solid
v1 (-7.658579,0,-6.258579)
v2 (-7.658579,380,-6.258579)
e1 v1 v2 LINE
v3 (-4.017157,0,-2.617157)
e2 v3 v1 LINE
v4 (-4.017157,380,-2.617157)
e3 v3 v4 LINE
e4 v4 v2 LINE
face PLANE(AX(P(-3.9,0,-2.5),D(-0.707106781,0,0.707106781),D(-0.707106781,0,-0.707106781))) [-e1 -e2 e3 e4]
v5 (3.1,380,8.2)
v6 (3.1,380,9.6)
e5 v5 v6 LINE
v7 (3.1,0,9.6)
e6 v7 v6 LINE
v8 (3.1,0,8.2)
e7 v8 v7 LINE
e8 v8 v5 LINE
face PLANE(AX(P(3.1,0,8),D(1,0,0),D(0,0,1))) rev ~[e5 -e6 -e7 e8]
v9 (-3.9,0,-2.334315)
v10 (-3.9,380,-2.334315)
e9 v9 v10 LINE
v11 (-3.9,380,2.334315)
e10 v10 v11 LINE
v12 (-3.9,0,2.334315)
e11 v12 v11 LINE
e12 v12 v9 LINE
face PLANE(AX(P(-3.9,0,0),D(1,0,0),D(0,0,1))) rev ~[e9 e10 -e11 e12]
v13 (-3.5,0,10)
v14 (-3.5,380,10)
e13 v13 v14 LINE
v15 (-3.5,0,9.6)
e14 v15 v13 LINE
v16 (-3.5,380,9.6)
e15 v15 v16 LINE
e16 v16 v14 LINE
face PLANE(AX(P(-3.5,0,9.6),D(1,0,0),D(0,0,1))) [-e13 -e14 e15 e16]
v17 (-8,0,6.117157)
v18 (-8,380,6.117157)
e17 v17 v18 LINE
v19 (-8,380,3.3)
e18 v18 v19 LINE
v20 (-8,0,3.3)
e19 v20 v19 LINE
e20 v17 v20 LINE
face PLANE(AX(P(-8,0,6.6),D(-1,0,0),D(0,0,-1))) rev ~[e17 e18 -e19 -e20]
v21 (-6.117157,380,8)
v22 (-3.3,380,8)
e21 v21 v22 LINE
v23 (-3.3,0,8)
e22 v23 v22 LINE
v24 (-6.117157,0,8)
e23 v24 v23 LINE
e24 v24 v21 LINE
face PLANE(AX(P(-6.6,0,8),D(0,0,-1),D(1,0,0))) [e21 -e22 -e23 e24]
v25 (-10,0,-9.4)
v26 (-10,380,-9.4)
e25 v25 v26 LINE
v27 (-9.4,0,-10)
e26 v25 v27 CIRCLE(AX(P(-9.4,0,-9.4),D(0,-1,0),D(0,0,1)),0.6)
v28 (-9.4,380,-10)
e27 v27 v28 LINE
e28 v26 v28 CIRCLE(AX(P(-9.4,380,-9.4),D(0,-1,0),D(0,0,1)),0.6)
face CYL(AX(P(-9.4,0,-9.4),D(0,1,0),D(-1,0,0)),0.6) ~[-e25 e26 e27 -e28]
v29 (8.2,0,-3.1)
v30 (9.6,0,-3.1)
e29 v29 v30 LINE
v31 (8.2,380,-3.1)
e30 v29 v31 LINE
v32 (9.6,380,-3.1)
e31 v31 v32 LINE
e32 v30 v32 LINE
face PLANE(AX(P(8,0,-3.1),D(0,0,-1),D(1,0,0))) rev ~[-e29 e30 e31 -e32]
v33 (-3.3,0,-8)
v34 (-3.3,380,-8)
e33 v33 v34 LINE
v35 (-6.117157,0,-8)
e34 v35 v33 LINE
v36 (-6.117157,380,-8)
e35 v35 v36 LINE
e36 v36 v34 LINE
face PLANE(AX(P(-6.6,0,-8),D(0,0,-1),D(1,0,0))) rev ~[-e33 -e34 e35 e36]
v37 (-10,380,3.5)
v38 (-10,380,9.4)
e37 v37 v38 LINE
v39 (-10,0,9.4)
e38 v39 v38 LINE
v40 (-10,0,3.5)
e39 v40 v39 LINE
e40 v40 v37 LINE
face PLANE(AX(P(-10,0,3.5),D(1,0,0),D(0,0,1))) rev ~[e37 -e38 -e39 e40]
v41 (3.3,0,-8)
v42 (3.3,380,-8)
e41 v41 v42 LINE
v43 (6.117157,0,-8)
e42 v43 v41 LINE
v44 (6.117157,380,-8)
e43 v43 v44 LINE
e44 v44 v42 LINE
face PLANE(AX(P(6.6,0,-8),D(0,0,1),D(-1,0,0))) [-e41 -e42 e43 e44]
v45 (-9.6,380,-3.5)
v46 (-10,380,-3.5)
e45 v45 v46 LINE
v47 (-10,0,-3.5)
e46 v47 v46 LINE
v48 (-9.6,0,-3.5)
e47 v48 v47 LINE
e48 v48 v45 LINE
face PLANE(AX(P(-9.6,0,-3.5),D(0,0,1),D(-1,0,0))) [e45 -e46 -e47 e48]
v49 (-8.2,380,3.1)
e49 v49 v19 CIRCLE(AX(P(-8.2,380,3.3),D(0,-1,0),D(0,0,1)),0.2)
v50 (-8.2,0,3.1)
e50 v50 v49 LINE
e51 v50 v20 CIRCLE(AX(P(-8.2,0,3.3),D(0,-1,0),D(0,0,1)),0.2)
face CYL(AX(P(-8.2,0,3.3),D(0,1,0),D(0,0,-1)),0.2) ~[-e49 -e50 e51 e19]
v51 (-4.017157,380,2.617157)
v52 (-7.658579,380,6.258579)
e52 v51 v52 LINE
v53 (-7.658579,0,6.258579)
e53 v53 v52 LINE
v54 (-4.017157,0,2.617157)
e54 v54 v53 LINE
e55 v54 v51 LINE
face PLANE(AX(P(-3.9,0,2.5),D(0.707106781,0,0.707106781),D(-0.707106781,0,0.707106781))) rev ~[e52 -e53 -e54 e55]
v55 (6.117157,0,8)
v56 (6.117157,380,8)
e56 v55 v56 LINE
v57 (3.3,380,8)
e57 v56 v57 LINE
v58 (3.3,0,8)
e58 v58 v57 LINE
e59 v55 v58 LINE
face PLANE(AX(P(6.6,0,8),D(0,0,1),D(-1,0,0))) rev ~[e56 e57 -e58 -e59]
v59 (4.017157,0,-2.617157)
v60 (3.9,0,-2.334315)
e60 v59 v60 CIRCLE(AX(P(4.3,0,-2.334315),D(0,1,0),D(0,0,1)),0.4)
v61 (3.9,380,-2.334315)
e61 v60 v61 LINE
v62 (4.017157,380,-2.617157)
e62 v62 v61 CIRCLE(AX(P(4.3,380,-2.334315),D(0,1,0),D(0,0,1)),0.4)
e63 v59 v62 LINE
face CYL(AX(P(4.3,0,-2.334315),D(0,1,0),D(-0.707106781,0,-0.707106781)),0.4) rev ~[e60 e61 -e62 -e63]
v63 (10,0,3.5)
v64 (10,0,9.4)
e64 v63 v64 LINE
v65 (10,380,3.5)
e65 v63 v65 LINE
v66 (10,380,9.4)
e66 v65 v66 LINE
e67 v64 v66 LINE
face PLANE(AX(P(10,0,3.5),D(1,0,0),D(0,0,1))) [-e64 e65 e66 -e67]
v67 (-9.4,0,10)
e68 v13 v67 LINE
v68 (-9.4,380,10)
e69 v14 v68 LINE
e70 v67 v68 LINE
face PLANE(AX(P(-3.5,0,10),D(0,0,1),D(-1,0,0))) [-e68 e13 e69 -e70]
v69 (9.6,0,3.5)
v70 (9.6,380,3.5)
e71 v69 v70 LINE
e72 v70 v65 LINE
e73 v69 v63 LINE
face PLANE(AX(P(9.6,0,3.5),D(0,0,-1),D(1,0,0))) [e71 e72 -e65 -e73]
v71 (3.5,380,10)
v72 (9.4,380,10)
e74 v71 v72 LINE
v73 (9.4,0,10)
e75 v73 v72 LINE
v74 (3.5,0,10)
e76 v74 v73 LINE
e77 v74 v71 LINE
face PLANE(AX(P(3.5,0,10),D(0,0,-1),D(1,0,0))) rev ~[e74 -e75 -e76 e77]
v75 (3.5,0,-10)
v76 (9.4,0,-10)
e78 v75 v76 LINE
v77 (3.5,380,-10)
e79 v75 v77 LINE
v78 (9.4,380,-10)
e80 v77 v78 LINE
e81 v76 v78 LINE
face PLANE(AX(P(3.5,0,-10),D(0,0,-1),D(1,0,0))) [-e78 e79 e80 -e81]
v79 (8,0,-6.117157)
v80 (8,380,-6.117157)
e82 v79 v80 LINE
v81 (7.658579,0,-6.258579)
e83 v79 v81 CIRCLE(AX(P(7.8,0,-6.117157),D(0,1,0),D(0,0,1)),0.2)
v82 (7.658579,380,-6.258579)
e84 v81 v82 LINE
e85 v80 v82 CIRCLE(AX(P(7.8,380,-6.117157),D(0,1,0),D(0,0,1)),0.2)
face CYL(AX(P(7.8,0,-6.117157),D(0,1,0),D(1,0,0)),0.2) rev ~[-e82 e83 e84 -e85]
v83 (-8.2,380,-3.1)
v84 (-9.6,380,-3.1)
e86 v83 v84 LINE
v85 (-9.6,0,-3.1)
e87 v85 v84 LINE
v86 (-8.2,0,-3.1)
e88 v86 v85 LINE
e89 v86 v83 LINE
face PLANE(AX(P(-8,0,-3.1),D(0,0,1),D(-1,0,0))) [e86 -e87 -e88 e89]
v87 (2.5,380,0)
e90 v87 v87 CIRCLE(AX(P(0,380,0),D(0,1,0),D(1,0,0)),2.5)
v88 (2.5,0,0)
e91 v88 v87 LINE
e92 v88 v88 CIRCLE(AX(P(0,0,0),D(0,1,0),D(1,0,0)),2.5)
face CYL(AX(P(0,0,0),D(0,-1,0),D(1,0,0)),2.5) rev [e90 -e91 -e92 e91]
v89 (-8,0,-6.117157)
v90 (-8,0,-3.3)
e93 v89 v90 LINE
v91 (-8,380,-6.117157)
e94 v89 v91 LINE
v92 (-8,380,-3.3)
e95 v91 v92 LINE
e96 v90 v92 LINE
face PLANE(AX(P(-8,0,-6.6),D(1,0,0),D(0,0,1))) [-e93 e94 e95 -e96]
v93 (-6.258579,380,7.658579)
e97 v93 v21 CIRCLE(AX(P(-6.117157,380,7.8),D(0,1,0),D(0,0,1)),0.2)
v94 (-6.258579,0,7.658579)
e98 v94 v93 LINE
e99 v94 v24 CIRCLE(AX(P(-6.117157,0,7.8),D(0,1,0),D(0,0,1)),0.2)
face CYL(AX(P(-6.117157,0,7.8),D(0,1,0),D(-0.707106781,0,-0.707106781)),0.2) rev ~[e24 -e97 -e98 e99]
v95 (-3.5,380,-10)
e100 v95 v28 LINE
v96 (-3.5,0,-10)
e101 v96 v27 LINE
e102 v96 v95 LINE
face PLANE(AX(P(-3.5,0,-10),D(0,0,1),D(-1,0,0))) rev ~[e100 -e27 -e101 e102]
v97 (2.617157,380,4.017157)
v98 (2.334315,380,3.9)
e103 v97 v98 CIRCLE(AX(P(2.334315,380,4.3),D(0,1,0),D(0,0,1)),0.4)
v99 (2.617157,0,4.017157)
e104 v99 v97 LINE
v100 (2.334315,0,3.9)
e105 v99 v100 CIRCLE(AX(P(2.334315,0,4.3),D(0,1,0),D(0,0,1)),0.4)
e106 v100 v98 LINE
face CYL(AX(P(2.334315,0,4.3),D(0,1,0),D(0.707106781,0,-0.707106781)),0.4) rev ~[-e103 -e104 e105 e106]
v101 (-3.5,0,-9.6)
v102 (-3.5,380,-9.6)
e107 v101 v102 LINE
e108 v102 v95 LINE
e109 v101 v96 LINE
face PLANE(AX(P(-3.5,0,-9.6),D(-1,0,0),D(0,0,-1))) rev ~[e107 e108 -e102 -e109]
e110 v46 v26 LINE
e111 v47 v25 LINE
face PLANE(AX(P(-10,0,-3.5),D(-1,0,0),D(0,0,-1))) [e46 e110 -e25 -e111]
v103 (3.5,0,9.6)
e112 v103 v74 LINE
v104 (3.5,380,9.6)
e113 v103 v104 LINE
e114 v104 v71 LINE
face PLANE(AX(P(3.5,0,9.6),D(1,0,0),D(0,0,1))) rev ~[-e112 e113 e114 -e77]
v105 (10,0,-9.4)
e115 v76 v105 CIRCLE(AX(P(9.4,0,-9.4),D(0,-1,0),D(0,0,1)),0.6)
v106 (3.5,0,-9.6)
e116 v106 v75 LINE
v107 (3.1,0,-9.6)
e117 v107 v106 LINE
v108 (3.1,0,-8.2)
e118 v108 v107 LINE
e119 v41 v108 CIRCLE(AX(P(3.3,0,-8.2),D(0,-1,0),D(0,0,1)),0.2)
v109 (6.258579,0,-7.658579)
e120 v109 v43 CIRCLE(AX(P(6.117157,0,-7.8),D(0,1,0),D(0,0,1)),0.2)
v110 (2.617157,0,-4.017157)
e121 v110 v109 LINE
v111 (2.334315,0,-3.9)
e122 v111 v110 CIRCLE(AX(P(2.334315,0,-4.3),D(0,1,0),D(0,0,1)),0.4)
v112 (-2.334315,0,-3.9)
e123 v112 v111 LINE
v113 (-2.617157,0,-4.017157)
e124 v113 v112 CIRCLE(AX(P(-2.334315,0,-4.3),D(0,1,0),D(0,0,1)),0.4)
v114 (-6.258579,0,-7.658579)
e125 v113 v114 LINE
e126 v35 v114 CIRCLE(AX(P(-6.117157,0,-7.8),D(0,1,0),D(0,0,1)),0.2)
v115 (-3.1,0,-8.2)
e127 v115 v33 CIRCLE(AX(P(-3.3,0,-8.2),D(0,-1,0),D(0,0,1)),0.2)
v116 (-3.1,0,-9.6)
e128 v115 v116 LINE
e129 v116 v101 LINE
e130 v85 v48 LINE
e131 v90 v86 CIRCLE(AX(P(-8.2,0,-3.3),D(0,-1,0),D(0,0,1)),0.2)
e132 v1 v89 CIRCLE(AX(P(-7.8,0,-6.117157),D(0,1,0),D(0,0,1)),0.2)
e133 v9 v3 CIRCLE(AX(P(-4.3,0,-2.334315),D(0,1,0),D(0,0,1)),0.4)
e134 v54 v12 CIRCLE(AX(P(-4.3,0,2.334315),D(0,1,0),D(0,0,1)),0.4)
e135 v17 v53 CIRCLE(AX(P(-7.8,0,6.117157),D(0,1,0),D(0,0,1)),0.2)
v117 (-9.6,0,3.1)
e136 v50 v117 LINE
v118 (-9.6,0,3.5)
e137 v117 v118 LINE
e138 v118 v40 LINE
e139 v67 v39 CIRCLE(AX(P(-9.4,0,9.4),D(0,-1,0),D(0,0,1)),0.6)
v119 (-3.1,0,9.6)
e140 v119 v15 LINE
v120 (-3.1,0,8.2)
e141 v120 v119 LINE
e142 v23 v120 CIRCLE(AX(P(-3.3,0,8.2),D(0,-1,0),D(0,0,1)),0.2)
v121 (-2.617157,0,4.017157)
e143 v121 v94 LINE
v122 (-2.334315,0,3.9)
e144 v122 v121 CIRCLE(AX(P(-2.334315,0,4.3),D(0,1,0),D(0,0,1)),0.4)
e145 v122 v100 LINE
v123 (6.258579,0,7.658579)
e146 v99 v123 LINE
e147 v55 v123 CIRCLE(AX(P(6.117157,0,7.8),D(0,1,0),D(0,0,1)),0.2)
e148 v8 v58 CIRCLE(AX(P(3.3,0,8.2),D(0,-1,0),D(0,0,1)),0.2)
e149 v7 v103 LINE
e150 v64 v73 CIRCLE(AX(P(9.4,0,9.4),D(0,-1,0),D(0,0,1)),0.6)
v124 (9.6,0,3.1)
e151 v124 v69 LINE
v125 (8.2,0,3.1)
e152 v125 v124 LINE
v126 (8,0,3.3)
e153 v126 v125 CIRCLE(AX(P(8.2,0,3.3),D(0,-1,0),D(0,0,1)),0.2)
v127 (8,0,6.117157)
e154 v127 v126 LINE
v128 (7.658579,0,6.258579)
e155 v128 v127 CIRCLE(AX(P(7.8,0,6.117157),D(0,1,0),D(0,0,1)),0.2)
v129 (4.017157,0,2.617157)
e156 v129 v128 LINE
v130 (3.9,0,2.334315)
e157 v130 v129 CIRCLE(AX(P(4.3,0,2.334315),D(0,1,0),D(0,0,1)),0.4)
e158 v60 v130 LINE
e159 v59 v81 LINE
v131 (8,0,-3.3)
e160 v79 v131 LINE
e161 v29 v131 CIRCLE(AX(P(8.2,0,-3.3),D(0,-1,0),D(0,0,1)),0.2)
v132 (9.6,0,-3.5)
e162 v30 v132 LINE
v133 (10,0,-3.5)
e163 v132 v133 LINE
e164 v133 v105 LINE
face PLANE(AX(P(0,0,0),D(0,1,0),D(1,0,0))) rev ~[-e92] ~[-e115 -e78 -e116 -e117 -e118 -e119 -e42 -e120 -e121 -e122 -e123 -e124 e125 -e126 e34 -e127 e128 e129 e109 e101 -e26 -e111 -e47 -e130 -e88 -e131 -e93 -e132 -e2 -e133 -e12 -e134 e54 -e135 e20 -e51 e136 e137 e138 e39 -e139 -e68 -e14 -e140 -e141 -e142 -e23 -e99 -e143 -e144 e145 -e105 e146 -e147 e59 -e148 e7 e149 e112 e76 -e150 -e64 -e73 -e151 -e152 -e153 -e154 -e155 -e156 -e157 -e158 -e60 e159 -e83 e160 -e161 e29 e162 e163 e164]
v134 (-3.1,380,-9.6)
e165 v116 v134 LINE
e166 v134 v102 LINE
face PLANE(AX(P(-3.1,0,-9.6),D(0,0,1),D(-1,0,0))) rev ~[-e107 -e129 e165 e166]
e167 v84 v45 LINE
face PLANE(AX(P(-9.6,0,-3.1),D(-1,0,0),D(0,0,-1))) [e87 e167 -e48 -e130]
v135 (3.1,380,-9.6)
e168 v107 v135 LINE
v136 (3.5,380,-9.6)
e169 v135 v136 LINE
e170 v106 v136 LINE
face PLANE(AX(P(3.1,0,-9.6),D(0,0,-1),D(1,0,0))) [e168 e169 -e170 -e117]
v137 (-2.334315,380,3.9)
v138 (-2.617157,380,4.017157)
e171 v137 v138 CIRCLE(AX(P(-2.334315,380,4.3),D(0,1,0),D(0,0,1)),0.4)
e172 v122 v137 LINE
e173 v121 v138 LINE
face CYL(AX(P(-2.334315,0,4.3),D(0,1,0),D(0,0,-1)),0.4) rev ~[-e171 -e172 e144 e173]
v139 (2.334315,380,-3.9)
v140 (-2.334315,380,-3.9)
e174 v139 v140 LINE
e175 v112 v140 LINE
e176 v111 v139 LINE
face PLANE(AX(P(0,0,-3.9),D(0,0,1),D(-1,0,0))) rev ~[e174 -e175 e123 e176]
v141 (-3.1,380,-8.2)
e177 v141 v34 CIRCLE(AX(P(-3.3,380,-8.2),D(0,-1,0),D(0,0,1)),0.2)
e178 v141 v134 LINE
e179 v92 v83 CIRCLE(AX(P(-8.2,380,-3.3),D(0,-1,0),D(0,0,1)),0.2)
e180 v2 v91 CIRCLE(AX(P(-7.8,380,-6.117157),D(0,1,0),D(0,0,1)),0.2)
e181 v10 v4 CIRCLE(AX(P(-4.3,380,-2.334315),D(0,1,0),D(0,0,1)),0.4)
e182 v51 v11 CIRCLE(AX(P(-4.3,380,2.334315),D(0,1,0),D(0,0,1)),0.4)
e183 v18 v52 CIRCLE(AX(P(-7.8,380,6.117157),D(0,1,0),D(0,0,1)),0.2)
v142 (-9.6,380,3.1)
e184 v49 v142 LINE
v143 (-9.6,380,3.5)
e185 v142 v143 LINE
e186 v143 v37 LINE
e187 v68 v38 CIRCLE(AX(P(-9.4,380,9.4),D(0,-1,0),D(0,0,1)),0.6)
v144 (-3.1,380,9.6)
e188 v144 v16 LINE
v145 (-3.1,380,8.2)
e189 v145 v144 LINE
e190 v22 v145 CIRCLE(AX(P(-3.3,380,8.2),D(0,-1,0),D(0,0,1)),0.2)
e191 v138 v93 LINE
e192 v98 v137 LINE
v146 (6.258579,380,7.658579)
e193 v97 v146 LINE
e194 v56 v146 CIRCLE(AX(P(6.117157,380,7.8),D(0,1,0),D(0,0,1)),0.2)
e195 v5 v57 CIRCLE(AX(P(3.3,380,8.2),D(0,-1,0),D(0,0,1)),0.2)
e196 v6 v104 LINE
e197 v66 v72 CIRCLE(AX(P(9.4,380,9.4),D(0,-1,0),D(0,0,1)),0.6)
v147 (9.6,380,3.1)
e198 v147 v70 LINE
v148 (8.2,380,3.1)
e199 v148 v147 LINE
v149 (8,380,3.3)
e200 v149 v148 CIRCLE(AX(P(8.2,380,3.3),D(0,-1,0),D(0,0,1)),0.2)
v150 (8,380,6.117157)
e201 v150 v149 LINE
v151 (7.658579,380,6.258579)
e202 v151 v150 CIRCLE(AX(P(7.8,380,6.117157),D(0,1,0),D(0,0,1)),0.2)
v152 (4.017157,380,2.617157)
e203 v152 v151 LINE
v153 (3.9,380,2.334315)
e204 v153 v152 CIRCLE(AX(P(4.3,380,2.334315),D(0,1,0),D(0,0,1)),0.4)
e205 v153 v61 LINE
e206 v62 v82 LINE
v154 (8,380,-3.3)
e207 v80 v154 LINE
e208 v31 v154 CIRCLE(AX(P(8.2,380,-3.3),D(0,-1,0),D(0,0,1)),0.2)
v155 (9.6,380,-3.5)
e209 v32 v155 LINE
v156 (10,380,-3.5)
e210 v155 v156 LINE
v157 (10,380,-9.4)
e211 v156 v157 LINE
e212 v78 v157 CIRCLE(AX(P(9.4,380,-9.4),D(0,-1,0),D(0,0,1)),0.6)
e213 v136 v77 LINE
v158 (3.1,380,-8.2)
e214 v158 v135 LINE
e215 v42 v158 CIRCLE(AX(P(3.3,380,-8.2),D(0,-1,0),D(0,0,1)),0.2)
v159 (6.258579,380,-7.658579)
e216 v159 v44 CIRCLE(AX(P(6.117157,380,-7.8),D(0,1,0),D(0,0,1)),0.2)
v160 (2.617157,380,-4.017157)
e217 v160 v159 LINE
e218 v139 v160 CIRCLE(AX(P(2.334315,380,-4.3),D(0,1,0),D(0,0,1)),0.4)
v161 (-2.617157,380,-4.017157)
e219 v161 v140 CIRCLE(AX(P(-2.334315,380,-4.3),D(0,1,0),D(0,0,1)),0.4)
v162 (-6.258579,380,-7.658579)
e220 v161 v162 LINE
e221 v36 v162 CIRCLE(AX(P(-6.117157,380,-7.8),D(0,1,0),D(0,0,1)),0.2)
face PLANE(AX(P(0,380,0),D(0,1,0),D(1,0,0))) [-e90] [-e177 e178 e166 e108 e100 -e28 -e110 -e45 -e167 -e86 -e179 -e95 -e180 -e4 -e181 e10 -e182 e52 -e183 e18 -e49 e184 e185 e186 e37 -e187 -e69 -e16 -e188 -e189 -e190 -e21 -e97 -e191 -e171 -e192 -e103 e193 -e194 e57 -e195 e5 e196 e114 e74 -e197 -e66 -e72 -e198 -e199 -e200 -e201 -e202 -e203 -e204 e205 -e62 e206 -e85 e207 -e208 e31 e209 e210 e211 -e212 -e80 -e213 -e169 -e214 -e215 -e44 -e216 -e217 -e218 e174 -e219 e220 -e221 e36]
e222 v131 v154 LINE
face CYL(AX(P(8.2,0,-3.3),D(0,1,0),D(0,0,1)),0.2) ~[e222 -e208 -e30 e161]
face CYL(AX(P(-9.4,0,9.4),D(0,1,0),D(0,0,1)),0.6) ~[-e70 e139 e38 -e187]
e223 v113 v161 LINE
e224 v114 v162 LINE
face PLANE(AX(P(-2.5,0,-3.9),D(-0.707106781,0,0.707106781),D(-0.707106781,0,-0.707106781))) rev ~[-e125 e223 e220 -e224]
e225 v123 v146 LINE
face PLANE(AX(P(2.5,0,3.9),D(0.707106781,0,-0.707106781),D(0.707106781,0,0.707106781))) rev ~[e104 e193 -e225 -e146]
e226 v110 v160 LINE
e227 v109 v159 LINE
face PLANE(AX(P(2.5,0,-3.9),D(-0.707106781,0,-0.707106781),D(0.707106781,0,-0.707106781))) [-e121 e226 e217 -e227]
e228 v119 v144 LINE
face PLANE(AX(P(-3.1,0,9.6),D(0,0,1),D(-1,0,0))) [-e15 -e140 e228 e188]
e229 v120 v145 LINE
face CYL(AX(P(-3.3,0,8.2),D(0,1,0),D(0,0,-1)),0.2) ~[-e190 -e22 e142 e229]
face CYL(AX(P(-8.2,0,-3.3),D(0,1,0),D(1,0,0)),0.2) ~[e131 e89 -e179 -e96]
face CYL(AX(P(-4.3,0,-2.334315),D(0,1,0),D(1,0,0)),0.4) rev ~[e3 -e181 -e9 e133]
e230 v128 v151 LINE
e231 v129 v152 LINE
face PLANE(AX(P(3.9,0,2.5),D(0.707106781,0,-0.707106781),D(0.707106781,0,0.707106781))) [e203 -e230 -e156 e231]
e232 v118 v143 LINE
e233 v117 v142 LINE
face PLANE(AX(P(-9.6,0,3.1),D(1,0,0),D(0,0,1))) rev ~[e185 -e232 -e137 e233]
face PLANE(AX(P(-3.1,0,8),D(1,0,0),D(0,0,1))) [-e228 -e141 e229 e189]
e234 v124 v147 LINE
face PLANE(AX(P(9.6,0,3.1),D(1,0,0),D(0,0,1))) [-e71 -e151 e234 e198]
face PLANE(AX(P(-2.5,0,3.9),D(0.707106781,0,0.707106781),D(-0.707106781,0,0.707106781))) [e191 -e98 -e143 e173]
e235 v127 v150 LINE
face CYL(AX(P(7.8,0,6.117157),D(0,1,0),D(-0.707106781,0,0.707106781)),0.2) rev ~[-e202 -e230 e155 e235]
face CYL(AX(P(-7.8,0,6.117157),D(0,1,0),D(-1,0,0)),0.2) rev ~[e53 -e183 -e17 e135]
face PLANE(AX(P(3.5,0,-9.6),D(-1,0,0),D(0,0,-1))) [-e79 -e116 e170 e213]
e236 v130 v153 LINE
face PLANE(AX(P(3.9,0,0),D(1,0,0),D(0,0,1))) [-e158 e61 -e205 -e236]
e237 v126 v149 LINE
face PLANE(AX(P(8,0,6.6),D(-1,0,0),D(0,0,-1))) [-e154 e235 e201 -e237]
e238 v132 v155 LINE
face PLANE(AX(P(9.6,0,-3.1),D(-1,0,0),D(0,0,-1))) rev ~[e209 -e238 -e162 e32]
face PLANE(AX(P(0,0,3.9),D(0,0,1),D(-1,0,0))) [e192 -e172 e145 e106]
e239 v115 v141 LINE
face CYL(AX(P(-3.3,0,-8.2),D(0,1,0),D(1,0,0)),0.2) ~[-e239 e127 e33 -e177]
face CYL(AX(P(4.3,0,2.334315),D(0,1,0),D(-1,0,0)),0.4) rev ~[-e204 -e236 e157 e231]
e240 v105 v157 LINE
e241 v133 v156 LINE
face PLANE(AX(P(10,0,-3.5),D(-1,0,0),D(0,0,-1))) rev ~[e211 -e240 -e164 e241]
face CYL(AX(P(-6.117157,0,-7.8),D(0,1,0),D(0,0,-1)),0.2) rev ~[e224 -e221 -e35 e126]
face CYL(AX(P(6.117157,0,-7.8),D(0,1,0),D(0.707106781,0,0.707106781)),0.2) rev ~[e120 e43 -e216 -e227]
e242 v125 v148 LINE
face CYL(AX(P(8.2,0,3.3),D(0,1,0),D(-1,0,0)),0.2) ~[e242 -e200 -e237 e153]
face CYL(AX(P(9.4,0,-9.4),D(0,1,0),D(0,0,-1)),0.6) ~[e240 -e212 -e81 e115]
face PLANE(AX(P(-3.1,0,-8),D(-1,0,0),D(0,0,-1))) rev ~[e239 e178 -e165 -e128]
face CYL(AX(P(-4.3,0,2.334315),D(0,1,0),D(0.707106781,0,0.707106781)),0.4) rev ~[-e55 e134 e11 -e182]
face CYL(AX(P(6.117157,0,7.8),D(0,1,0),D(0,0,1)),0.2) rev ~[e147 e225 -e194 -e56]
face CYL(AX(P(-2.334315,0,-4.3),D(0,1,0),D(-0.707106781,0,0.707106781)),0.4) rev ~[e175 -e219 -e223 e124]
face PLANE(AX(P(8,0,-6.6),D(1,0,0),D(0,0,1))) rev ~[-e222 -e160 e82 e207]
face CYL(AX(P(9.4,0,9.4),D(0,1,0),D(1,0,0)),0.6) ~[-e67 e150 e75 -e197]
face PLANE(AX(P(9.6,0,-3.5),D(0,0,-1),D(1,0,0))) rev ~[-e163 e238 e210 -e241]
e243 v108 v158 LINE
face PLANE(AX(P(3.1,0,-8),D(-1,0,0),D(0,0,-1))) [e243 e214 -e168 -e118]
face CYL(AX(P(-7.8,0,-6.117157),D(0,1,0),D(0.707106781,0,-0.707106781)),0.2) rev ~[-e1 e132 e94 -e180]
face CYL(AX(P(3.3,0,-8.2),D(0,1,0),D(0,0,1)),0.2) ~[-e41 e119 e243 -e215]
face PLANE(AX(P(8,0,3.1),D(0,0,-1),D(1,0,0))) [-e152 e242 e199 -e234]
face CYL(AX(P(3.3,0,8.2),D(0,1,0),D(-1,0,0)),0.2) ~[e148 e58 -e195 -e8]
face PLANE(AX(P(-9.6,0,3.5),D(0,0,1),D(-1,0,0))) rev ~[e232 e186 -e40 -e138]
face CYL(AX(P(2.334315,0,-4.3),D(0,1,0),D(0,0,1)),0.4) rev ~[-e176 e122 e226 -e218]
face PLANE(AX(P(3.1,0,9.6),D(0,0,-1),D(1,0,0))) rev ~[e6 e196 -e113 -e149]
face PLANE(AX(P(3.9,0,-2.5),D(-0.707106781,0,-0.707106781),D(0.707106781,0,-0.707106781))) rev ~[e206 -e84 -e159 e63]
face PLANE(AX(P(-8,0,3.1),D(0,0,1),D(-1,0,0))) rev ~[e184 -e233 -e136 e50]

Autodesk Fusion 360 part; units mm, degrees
sketch "profile" plane through (0, 0, 0) normal (0, 1, 0) x (1, 0, 0)
  circle A0 centre (0, 0) radius 2.5
  line L0 (0, -3.9) -> (-2.5, -3.9)
  line L1 (4, -4) -> (-4, 4) construction
  line L2 (-3.9092, -3.9092) -> (4, 4) construction
  line L3 (10, -10) -> (-10, -10) construction
  line L4 (-10, -10) -> (-10, 10) construction
  line L5 (-10, 10) -> (10, 10) construction
  line L6 (10, 10) -> (10, -10) construction
  line L7 (10, -10) -> (-10, 10) construction
  line L8 (-10, -10) -> (10, 10) construction
  line L9 (8, -8) -> (-8, -8) construction
  line L10 (-8, -8) -> (-8, 8) construction
  line L11 (-8, 8) -> (8, 8) construction
  line L12 (8, 8) -> (8, -8) construction
  line L13 (8, -8) -> (-8, 8) construction
  line L14 (-8, -8) -> (8, 8) construction
  line L15 (0, -8) -> (0, -10) construction
  line L16 (0, -9) -> (-3.1, -9) construction
  line L17 (-3.1, -8) -> (-3.1, -9.6)
  line L18 (-1.75, -10) -> (-1.75, -9.6) construction
  line L19 (0, -9.6) -> (-3.5, -9.6) construction
  line L20 (-3.1, -9.6) -> (-3.5, -9.6)
  line L21 (-3.5, -9.6) -> (-3.5, -10)
  line L22 (0, 0) -> (0, -8) construction
  line L23 (-3.5, -10) -> (-10, -10)
  line L24 (-3.9092, -3.9092) -> (-2.5, -3.9) construction
  line L25 (-8, -8) -> (-6.6, -8) construction
  line L26 (-8, -8) -> (-8, -7) construction
  line L27 (-2.5, -3.9) -> (-6.6, -8)
  line L28 (-6.6, -8) -> (-3.1, -8)
  line L29 (0, -2.5) -> (0, -3.9) construction
  line L30 (-3.9, 0) -> (-3.9, -2.5)
  line L31 (-3.9, -2.5) -> (-8, -6.6)
  line L32 (-8, -6.6) -> (-8, -3.1)
  line L33 (-8, -3.1) -> (-9.6, -3.1)
  line L34 (-9.6, -3.1) -> (-9.6, -3.5)
  line L35 (-9.6, -3.5) -> (-10, -3.5)
  line L36 (-10, -3.5) -> (-10, -10)
  line L37 (0, 0) -> (10, 0) construction
  line L38 (3.9, 0) -> (3.9, -2.5)
  line L39 (3.9, -2.5) -> (8, -6.6)
  line L40 (8, -6.6) -> (8, -3.1)
  line L41 (8, -3.1) -> (9.6, -3.1)
  line L42 (9.6, -3.1) -> (9.6, -3.5)
  line L43 (9.6, -3.5) -> (10, -3.5)
  line L44 (10, -3.5) -> (10, -10)
  line L45 (0, -3.9) -> (2.5, -3.9)
  line L46 (6.6, -8) -> (3.1, -8)
  line L47 (3.1, -8) -> (3.1, -9.6)
  line L48 (3.1, -9.6) -> (3.5, -9.6)
  line L49 (3.5, -9.6) -> (3.5, -10)
  line L50 (3.5, -10) -> (10, -10)
  line L51 (2.5, -3.9) -> (6.6, -8)
  line L52 (-3.9, 0) -> (-3.9, 2.5)
  line L53 (-3.9, 2.5) -> (-8, 6.6)
  line L54 (-8, 6.6) -> (-8, 3.1)
  line L55 (-8, 3.1) -> (-9.6, 3.1)
  line L56 (-9.6, 3.1) -> (-9.6, 3.5)
  line L57 (-9.6, 3.5) -> (-10, 3.5)
  line L58 (-10, 3.5) -> (-10, 10)
  line L59 (0, 3.9) -> (-2.5, 3.9)
  line L60 (-6.6, 8) -> (-3.1, 8)
  line L61 (-3.1, 8) -> (-3.1, 9.6)
  line L62 (-3.1, 9.6) -> (-3.5, 9.6)
  line L63 (-3.5, 9.6) -> (-3.5, 10)
  line L64 (-3.5, 10) -> (-10, 10)
  line L65 (-2.5, 3.9) -> (-6.6, 8)
  line L66 (0, 3.9) -> (2.5, 3.9)
  line L67 (6.6, 8) -> (3.1, 8)
  line L68 (3.1, 8) -> (3.1, 9.6)
  line L69 (3.1, 9.6) -> (3.5, 9.6)
  line L70 (3.5, 9.6) -> (3.5, 10)
  line L71 (3.5, 10) -> (10, 10)
  line L72 (2.5, 3.9) -> (6.6, 8)
  line L73 (3.9, 0) -> (3.9, 2.5)
  line L74 (8, 6.6) -> (8, 3.1)
  line L75 (8, 3.1) -> (9.6, 3.1)
  line L76 (9.6, 3.1) -> (9.6, 3.5)
  line L77 (9.6, 3.5) -> (10, 3.5)
  line L78 (10, 3.5) -> (10, 10)
  line L79 (3.9, 2.5) -> (8, 6.6)
  dimension "d3" = 5
  dimension "d7" = 8
  dimension "d8" = 8
  dimension "d9" = 20
  dimension "d10" = 20
  dimension "d11" = 16
  dimension "d12" = 16
  dimension "d13" = 3.1
  dimension "d14" = 0.4
  dimension "d15" = 3.5
  dimension "d20" = 2.5
  dimension "d21" = 1.4
extrude "Extrude3" add sketch "profile" along normal blind 380
fillet "Fillet1" radius 0.6 4 edges at (-10, 190, 10) (10, 190, 10) (10, 190, -10) (-10, 190, -10)
fillet "Fillet1" radius 0.2 8 edges at (3.1, 190, 8) (8, 190, 3.1) (8, 190, -3.1) (3.1, 190, -8) (-3.1, 190, 8) (-8, 190, 3.1) (-3.1, 190, -8) (-8, 190, -3.1)
fillet "Fillet1" radius 0.2 8 edges at (-8, 190, 6.6) (-6.6, 190, 8) (6.6, 190, 8) (8, 190, 6.6) (8, 190, -6.6) (6.6, 190, -8) (-6.6, 190, -8) (-8, 190, -6.6)
fillet "Fillet1" radius 0.4 8 edges at (-2.5, 190, 3.9) (2.5, 190, 3.9) (3.9, 190, 2.5) (3.9, 190, -2.5) (2.5, 190, -3.9) (-2.5, 190, -3.9) (-3.9, 190, -2.5) (-3.9, 190, 2.5)
equation "d13 = ( 6.2 / 2 ) * 1 mm"
equation "d15 = 7 mm / 2"
